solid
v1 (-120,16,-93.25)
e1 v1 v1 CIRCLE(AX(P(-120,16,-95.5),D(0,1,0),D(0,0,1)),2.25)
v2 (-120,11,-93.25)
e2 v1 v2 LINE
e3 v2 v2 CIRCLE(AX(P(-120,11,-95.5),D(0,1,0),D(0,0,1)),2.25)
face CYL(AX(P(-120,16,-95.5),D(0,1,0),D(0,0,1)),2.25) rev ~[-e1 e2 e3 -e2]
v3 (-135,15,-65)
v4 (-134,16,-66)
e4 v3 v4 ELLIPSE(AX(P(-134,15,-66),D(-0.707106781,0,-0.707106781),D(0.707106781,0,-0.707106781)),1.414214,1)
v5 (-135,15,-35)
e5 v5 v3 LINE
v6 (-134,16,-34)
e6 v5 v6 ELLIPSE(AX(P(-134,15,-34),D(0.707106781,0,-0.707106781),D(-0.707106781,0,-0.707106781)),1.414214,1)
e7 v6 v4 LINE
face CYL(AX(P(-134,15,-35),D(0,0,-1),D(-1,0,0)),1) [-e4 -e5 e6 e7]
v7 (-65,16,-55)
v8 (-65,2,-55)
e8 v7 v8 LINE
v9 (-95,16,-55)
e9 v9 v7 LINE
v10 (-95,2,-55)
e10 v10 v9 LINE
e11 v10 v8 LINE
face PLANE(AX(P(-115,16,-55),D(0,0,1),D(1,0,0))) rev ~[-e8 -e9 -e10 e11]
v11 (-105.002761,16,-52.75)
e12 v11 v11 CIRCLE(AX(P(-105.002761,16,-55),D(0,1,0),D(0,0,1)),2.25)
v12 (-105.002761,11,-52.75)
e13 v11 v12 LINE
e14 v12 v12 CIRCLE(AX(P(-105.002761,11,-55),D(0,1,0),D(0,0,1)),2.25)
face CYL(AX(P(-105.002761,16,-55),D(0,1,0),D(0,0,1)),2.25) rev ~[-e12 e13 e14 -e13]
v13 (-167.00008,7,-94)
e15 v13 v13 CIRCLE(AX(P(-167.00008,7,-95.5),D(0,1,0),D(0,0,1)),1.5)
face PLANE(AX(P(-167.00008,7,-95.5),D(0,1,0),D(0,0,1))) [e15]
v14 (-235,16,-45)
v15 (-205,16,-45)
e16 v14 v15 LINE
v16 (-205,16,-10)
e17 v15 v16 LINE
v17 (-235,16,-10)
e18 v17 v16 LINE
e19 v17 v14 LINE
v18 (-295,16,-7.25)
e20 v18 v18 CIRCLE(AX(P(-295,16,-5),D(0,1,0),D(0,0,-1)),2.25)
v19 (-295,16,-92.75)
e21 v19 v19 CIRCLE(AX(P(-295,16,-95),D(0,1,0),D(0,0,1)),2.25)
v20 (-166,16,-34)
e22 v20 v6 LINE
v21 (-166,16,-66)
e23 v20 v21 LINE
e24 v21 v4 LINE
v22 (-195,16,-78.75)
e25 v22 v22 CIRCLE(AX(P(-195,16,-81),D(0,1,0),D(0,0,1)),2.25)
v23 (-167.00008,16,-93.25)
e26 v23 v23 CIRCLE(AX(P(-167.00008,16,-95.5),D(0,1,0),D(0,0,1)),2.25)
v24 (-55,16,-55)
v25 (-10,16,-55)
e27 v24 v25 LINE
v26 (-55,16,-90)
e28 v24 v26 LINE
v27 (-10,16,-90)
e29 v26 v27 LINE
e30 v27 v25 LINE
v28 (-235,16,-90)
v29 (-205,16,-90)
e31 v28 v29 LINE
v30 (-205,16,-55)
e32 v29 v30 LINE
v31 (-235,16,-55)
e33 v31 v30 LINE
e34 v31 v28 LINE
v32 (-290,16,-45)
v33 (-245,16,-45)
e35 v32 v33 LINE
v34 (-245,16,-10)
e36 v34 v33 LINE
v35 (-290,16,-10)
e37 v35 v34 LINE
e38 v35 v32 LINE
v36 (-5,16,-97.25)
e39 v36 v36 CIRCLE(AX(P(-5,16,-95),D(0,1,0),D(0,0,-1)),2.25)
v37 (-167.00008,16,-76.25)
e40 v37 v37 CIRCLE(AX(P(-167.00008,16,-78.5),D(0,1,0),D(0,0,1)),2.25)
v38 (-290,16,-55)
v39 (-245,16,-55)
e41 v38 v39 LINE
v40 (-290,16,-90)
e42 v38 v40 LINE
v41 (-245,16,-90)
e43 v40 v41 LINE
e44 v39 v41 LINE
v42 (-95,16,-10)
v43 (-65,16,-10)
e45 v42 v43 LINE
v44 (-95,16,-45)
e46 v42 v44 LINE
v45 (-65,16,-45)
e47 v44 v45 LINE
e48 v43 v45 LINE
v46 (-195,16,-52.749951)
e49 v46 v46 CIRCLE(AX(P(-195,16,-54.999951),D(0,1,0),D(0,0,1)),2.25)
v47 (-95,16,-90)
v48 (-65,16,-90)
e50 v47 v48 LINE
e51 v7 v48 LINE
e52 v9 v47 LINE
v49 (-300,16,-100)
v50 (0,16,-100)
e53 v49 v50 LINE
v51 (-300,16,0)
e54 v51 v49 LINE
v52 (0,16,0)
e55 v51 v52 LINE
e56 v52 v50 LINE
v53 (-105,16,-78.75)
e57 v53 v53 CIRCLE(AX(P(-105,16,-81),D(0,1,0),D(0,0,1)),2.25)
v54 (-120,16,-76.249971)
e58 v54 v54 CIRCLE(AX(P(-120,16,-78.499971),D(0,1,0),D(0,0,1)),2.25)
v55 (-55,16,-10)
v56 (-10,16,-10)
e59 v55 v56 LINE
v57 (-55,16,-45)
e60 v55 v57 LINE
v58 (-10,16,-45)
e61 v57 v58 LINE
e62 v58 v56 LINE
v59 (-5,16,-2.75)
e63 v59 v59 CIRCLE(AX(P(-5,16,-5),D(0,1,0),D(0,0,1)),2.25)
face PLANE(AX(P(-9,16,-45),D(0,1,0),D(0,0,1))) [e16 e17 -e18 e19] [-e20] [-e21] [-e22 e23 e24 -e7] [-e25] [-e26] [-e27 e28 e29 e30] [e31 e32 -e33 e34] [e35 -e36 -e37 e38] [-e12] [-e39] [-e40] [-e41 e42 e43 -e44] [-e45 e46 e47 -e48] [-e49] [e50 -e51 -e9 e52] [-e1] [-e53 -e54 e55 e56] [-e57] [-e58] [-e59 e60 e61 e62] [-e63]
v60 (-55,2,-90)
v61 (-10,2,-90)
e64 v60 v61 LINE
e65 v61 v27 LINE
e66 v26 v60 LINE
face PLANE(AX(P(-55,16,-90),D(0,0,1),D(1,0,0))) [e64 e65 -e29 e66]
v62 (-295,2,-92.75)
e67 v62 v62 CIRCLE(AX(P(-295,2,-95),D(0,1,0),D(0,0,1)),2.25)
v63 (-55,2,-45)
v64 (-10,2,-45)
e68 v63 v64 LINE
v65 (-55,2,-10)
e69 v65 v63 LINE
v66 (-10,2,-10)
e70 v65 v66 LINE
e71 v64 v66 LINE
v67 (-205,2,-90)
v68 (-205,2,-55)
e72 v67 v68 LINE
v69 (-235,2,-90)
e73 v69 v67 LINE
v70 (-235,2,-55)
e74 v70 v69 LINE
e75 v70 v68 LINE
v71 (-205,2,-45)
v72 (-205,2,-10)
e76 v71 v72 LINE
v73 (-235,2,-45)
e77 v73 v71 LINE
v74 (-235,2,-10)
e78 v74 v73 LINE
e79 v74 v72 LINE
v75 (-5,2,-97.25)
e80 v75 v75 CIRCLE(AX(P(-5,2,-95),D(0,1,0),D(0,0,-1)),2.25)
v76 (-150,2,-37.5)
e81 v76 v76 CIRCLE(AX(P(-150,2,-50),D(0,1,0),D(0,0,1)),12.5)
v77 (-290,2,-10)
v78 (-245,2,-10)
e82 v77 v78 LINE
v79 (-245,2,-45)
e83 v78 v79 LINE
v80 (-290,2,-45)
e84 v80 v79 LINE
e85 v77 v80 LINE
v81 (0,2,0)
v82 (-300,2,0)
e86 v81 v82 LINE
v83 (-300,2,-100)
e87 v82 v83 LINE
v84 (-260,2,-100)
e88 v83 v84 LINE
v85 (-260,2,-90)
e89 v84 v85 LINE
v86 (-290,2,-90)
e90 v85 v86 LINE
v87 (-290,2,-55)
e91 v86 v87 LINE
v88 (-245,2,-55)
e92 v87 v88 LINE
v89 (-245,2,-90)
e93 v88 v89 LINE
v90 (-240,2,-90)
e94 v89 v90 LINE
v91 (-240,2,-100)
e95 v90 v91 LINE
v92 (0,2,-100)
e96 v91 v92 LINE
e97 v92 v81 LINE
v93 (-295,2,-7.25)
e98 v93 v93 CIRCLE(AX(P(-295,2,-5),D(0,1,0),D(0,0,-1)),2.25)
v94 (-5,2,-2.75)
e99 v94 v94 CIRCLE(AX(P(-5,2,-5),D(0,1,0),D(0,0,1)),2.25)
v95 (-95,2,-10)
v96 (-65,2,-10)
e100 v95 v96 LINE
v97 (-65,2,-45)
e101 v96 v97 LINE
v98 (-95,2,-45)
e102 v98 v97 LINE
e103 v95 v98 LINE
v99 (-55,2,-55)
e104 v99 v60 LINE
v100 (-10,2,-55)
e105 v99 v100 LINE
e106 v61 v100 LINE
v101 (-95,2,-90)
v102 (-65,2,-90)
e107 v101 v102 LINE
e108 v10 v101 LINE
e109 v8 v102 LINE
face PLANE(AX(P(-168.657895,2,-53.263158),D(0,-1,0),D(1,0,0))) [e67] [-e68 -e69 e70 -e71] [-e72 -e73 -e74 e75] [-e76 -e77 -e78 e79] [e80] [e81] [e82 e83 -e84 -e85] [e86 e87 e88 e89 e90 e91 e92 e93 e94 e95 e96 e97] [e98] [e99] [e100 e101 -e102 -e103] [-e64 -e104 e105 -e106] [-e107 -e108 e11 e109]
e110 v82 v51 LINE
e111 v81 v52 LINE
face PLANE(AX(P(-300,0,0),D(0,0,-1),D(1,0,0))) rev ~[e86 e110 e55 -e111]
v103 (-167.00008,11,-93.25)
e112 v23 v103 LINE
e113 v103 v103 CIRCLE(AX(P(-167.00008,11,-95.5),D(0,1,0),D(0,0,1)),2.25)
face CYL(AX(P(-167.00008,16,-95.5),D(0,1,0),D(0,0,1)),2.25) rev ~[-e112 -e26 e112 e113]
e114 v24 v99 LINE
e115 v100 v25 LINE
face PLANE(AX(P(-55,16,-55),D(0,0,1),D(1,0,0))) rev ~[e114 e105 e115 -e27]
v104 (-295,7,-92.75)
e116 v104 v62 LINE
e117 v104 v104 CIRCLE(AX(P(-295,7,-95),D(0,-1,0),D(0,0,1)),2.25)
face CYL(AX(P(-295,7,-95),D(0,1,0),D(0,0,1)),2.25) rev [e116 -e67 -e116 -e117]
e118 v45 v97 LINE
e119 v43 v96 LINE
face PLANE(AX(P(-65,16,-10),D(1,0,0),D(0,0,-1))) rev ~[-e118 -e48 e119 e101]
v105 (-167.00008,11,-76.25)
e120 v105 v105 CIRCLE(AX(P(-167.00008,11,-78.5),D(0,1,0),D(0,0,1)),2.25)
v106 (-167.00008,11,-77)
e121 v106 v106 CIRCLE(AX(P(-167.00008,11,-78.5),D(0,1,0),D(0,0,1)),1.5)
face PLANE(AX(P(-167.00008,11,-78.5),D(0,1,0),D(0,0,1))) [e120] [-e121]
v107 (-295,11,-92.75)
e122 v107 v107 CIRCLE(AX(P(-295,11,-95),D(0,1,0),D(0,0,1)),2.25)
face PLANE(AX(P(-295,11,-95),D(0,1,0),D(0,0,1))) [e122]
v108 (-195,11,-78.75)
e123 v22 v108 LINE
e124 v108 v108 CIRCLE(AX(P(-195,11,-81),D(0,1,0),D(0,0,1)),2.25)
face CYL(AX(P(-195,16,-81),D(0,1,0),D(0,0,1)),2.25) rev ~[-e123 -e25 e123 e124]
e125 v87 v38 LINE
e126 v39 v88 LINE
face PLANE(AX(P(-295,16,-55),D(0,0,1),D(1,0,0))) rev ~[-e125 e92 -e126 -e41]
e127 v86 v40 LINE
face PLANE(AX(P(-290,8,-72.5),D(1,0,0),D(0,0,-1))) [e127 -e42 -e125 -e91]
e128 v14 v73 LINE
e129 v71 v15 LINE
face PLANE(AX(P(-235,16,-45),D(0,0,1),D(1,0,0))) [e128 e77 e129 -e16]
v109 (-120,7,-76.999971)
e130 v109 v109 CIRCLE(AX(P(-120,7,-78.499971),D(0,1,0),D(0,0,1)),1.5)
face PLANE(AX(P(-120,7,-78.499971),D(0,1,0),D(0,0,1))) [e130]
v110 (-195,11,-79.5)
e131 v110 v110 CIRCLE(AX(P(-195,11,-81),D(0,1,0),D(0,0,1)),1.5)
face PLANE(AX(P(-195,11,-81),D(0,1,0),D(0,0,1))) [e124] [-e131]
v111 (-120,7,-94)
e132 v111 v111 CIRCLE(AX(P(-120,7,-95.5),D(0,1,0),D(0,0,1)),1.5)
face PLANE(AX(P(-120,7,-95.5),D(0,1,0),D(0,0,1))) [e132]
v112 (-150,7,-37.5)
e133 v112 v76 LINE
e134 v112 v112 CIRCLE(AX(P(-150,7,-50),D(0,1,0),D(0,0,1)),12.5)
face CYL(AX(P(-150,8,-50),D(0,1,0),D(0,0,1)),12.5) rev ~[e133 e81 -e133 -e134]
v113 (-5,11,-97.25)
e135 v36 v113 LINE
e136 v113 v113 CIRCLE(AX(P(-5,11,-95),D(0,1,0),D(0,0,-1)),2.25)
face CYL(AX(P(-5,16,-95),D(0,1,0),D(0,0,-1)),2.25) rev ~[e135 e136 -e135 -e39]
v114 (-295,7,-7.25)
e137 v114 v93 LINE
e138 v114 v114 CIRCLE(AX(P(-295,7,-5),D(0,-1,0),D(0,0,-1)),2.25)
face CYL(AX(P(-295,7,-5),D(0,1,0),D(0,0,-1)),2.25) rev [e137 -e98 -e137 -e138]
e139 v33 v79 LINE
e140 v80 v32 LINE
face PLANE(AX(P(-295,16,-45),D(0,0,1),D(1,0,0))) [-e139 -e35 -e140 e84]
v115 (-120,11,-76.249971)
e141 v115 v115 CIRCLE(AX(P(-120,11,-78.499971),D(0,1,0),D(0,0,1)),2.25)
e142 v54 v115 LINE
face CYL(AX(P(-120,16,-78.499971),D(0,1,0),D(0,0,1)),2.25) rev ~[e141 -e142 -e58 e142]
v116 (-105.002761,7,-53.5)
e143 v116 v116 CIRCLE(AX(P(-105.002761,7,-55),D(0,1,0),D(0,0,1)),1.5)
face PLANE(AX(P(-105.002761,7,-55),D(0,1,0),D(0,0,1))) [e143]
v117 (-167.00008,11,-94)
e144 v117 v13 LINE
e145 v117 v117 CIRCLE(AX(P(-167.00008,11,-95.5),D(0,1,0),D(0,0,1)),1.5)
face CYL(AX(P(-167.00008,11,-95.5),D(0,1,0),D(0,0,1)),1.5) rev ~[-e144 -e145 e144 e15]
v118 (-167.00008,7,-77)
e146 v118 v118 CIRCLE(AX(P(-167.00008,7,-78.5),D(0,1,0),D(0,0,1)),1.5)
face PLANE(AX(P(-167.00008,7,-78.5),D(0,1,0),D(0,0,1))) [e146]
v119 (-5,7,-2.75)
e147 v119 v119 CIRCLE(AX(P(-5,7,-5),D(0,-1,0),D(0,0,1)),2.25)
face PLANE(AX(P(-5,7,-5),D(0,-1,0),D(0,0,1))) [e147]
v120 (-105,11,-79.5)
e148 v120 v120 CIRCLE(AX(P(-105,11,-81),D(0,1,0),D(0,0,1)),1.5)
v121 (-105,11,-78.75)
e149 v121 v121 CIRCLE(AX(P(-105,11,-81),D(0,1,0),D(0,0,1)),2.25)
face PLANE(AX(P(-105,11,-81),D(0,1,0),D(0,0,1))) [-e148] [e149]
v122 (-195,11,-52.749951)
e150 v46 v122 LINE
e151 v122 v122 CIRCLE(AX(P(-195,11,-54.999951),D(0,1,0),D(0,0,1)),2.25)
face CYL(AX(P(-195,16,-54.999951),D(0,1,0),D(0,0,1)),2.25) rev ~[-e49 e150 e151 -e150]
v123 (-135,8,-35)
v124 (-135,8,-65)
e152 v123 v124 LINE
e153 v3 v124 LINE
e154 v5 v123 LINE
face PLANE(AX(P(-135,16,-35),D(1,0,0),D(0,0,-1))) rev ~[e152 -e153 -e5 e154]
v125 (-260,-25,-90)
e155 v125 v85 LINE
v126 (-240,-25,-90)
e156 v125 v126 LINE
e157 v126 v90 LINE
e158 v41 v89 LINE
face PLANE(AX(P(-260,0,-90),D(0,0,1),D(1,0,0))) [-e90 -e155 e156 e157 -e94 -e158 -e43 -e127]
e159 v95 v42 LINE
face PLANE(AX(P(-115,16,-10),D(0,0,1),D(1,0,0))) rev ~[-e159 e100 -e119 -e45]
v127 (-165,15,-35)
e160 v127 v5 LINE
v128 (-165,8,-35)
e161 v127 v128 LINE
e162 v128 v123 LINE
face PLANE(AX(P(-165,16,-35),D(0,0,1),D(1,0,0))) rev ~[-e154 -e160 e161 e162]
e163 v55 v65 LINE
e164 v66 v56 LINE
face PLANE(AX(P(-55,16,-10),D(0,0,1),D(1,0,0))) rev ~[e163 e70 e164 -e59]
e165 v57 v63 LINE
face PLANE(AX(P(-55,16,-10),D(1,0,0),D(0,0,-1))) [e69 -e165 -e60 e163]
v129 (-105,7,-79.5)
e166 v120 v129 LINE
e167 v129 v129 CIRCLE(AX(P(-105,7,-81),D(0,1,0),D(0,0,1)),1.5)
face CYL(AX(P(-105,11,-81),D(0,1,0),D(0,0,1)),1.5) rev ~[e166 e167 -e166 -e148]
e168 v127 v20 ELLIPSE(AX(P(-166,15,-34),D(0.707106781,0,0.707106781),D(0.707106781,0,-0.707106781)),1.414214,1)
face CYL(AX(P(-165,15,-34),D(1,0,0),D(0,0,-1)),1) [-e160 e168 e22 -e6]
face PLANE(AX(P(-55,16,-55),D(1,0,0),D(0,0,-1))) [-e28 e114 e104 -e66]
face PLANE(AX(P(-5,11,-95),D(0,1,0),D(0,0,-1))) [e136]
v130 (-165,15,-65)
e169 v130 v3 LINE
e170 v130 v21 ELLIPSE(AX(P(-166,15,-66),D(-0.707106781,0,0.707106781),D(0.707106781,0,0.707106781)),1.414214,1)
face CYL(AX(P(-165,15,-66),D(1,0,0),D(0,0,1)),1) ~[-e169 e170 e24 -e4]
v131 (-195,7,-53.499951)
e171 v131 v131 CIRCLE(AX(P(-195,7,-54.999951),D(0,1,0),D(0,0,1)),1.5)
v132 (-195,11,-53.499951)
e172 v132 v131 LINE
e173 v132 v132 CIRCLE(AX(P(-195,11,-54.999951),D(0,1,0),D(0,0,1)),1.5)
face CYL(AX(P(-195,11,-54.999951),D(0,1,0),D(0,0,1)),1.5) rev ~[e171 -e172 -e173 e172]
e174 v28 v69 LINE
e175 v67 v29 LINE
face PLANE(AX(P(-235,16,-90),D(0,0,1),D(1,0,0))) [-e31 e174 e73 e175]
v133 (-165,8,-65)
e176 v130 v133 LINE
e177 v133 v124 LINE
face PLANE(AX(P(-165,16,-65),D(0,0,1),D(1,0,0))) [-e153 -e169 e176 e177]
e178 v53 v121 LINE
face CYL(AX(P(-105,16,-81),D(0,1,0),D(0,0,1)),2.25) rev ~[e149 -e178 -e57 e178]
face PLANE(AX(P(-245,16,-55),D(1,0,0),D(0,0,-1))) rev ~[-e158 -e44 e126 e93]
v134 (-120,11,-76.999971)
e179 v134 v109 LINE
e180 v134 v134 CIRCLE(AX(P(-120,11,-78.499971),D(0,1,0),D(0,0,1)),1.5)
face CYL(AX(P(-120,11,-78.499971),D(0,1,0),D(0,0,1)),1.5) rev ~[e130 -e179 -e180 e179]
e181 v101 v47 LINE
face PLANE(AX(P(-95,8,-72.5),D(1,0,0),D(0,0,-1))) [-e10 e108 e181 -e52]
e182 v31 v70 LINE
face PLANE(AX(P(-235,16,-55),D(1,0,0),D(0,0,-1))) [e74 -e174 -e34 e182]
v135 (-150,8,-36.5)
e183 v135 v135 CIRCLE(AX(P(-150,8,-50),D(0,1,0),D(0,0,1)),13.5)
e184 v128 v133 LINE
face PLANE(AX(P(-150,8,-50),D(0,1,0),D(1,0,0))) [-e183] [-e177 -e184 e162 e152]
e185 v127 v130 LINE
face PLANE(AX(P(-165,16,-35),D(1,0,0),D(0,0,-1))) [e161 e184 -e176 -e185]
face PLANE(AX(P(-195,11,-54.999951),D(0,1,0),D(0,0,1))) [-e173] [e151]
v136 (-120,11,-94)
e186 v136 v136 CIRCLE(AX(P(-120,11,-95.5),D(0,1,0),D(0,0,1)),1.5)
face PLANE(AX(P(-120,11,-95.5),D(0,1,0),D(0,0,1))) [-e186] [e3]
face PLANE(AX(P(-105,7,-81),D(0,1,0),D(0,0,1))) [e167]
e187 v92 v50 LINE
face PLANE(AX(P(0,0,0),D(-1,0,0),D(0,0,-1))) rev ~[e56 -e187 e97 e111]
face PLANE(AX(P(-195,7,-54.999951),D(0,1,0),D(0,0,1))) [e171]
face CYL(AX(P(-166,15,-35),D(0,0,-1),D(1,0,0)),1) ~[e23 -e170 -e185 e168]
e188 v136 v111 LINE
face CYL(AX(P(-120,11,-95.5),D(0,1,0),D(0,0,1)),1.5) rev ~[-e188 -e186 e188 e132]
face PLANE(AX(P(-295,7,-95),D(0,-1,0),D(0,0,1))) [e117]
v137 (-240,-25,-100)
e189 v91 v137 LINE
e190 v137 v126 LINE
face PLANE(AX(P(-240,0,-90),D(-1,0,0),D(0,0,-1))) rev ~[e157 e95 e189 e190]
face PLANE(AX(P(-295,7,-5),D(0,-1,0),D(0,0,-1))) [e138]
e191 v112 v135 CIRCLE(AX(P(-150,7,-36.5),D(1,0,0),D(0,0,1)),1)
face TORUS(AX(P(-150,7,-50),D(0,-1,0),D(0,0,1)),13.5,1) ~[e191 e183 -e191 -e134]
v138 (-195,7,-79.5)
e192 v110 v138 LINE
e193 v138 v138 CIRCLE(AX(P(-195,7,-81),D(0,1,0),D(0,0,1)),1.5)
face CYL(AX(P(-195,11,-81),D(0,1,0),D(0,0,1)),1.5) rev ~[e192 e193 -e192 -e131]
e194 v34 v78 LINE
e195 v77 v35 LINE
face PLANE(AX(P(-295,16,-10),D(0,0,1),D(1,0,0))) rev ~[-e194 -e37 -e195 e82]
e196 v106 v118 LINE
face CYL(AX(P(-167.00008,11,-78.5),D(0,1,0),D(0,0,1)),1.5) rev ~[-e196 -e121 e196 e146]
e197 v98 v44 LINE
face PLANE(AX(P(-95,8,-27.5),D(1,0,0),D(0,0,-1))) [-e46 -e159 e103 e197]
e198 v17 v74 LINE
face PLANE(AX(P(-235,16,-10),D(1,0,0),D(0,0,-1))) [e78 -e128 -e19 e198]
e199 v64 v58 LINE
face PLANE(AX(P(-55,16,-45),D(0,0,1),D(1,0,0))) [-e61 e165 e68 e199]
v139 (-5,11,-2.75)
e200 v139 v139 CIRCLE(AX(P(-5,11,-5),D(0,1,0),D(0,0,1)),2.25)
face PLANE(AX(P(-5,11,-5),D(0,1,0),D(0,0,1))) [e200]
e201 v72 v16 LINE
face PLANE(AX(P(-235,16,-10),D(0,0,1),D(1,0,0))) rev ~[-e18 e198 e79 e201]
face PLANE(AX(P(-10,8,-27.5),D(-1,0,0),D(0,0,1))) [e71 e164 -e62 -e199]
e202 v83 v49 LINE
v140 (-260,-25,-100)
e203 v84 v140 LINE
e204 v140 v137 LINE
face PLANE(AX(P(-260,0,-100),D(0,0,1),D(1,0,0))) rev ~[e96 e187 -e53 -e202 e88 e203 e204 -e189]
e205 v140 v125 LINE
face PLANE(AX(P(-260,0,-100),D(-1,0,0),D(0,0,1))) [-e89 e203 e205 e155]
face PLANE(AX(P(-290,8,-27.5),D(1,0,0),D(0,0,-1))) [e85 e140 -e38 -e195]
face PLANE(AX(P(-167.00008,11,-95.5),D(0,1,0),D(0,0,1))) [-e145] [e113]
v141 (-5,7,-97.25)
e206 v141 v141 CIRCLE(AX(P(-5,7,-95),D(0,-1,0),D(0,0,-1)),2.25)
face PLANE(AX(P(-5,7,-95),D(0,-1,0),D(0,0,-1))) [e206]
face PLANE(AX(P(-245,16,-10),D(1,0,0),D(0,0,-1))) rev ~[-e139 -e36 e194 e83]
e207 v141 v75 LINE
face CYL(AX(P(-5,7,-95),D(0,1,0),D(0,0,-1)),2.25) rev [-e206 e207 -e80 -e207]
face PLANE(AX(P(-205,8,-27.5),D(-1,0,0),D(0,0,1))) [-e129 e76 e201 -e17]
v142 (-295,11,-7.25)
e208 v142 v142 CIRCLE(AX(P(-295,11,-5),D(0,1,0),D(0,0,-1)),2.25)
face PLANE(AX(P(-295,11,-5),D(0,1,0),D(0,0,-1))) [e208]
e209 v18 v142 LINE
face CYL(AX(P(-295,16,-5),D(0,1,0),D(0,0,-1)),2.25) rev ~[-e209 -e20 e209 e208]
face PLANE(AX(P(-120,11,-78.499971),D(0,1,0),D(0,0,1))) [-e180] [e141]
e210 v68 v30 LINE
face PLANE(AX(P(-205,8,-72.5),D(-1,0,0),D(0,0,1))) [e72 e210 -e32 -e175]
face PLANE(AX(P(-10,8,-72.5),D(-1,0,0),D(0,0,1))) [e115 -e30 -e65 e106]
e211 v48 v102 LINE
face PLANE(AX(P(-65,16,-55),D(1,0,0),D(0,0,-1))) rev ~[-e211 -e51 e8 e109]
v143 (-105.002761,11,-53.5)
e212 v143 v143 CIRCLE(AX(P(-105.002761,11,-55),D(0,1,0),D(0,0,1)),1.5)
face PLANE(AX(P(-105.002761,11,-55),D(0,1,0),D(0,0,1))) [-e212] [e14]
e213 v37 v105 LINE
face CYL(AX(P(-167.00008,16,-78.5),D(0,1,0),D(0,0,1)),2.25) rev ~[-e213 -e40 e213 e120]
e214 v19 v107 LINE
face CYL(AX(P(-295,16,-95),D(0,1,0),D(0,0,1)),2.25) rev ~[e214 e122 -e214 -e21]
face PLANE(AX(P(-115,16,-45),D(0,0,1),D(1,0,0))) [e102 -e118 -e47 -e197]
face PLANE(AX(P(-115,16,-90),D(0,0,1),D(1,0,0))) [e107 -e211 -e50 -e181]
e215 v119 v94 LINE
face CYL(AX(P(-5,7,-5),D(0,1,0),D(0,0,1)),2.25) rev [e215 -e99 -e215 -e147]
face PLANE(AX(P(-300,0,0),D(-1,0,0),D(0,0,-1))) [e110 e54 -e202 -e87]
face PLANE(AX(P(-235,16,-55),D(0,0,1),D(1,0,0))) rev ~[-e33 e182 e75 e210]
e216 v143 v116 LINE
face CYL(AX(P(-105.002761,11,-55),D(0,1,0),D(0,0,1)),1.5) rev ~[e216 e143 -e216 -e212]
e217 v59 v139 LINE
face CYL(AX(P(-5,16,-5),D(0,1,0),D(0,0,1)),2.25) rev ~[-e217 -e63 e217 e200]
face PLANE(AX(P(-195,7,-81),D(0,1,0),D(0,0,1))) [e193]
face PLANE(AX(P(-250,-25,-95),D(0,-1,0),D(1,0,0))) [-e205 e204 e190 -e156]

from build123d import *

# Parameters (mm, degrees)
SKETCH_1_W           = 300
SKETCH_1_H           = 100
EXTRUDE_1_DEPTH      = 16
SKETCH_2_W           = 30
SKETCH_2_H           = 30
CUT_EXTRUDE_1_DEPTH  = 8
SKETCH_3_R           = 12.5
CUT_EXTRUDE_2_DEPTH  = 14
CUT_EXTRUDE_3_REACH  = 318.632
SKETCH_4_W           = 50
SKETCH_4_H           = 35
SKETCH_7_W           = 35
SKETCH_7_H           = 16
EXTRUDE_2_DEPTH      = 20
SKETCH_8_W           = 35
SKETCH_8_H           = 16
EXTRUDE_3_DEPTH      = 20
SKETCH_9_W           = 20
SKETCH_9_H           = 10
EXTRUDE_4_DEPTH      = 25
FILLET_1_R           = 1
FILLET_2_R           = 1
SKETCH_13_W          = 35
SKETCH_13_H          = 16
EXTRUDE_6_DEPTH      = 4
SKETCH_14_W          = 35
SKETCH_14_H          = 16
EXTRUDE_7_DEPTH      = 4
SKETCH_17_W          = 35
SKETCH_17_H          = 16
EXTRUDE_8_DEPTH      = 1
SKETCH_18_W          = 35
SKETCH_18_H          = 16
EXTRUDE_9_DEPTH      = 1
SKETCH_19_R          = 2.25
CUT_EXTRUDE_8_DEPTH  = 5
CUT_EXTRUDE_START    = -7
SKETCH_20_R          = 2.25
CUT_EXTRUDE_9_DEPTH  = 7
CUT_EXTRUDE_15_DEPTH = 2
SKETCH_28_R          = 2.25
CUT_EXTRUDE_18_DEPTH = 5
SKETCH_30_R          = 1.5
CUT_EXTRUDE_20_DEPTH = 4


with BuildPart() as part:
    # 草图1 → 凸台-拉伸1 (new body)
    with BuildSketch(Plane(origin=(0, 0, 0), x_dir=(1, 0, 0), z_dir=(0, 1, 0))):
        with Locations((-150, 50)):
            Rectangle(SKETCH_1_W, SKETCH_1_H)
    extrude(amount=EXTRUDE_1_DEPTH)

    # 草图2 → 切除-拉伸1 (cut)
    with BuildSketch(Plane(origin=(0, 16, 0), x_dir=(1, 0, 0), z_dir=(0, 1, 0))):
        with Locations((-150, 50)):
            Rectangle(SKETCH_2_W, SKETCH_2_H)
    extrude(amount=-CUT_EXTRUDE_1_DEPTH, mode=Mode.SUBTRACT)

    # 草图3 → 切除-拉伸2 (cut)
    with BuildSketch(Plane(origin=(0, 8, 0), x_dir=(1, 0, 0), z_dir=(0, 1, 0))):
        with Locations(Location((-150, 50, 0), (0, 0, 270))):
            Circle(SKETCH_3_R)
    extrude(amount=-CUT_EXTRUDE_2_DEPTH, mode=Mode.SUBTRACT)

    # 草图4 → 切除-拉伸3 (cut, up to next)
    with BuildSketch(Plane(origin=(0, 16, 0), x_dir=(1, 0, 0), z_dir=(0, 1, 0)), mode=Mode.PRIVATE) as cut_extrude_3_sk1:
        with Locations((-270, 72.5)):
            Rectangle(SKETCH_4_W, SKETCH_4_H)
    cut_extrude_3_tool1 = extrude(cut_extrude_3_sk1.sketch, amount=-CUT_EXTRUDE_3_REACH, mode=Mode.PRIVATE) & part.part
    # 草图4 → 切除-拉伸3 (cut, up to next)
    with BuildSketch(Plane(origin=(0, 16, 0), x_dir=(1, 0, 0), z_dir=(0, 1, 0)), mode=Mode.PRIVATE) as cut_extrude_3_sk2:
        with Locations((-270, 27.5)):
            Rectangle(SKETCH_4_W, SKETCH_4_H)
    cut_extrude_3_tool2 = extrude(cut_extrude_3_sk2.sketch, amount=-CUT_EXTRUDE_3_REACH, mode=Mode.PRIVATE) & part.part
    # 草图4 → 切除-拉伸3 (cut, up to next)
    with BuildSketch(Plane(origin=(0, 16, 0), x_dir=(1, 0, 0), z_dir=(0, 1, 0)), mode=Mode.PRIVATE) as cut_extrude_3_sk3:
        with Locations((-210, 72.5)):
            Rectangle(SKETCH_4_W, SKETCH_4_H)
    cut_extrude_3_tool3 = extrude(cut_extrude_3_sk3.sketch, amount=-CUT_EXTRUDE_3_REACH, mode=Mode.PRIVATE) & part.part
    # 草图4 → 切除-拉伸3 (cut, up to next)
    with BuildSketch(Plane(origin=(0, 16, 0), x_dir=(1, 0, 0), z_dir=(0, 1, 0)), mode=Mode.PRIVATE) as cut_extrude_3_sk4:
        with Locations((-210, 27.5)):
            Rectangle(SKETCH_4_W, SKETCH_4_H)
    cut_extrude_3_tool4 = extrude(cut_extrude_3_sk4.sketch, amount=-CUT_EXTRUDE_3_REACH, mode=Mode.PRIVATE) & part.part
    # 草图4 → 切除-拉伸3 (cut, up to next)
    with BuildSketch(Plane(origin=(0, 16, 0), x_dir=(1, 0, 0), z_dir=(0, 1, 0)), mode=Mode.PRIVATE) as cut_extrude_3_sk5:
        with Locations((-30, 27.5)):
            Rectangle(SKETCH_4_W, SKETCH_4_H)
    cut_extrude_3_tool5 = extrude(cut_extrude_3_sk5.sketch, amount=-CUT_EXTRUDE_3_REACH, mode=Mode.PRIVATE) & part.part
    # 草图4 → 切除-拉伸3 (cut, up to next)
    with BuildSketch(Plane(origin=(0, 16, 0), x_dir=(1, 0, 0), z_dir=(0, 1, 0)), mode=Mode.PRIVATE) as cut_extrude_3_sk6:
        with Locations((-90, 27.5)):
            Rectangle(SKETCH_4_W, SKETCH_4_H)
    cut_extrude_3_tool6 = extrude(cut_extrude_3_sk6.sketch, amount=-CUT_EXTRUDE_3_REACH, mode=Mode.PRIVATE) & part.part
    # 草图4 → 切除-拉伸3 (cut, up to next)
    with BuildSketch(Plane(origin=(0, 16, 0), x_dir=(1, 0, 0), z_dir=(0, 1, 0)), mode=Mode.PRIVATE) as cut_extrude_3_sk7:
        with Locations((-90, 72.5)):
            Rectangle(SKETCH_4_W, SKETCH_4_H)
    cut_extrude_3_tool7 = extrude(cut_extrude_3_sk7.sketch, amount=-CUT_EXTRUDE_3_REACH, mode=Mode.PRIVATE) & part.part
    # 草图4 → 切除-拉伸3 (cut, up to next)
    with BuildSketch(Plane(origin=(0, 16, 0), x_dir=(1, 0, 0), z_dir=(0, 1, 0)), mode=Mode.PRIVATE) as cut_extrude_3_sk8:
        with Locations((-30, 72.5)):
            Rectangle(SKETCH_4_W, SKETCH_4_H)
    cut_extrude_3_tool8 = extrude(cut_extrude_3_sk8.sketch, amount=-CUT_EXTRUDE_3_REACH, mode=Mode.PRIVATE) & part.part
    add(cut_extrude_3_tool1.solids().sort_by_distance((-270, 16, -72.5))[0], mode=Mode.SUBTRACT)
    add(cut_extrude_3_tool2.solids().sort_by_distance((-270, 16, -27.5))[0], mode=Mode.SUBTRACT)
    add(cut_extrude_3_tool3.solids().sort_by_distance((-210, 16, -72.5))[0], mode=Mode.SUBTRACT)
    add(cut_extrude_3_tool4.solids().sort_by_distance((-210, 16, -27.5))[0], mode=Mode.SUBTRACT)
    add(cut_extrude_3_tool5.solids().sort_by_distance((-30, 16, -27.5))[0], mode=Mode.SUBTRACT)
    add(cut_extrude_3_tool6.solids().sort_by_distance((-90, 16, -27.5))[0], mode=Mode.SUBTRACT)
    add(cut_extrude_3_tool7.solids().sort_by_distance((-90, 16, -72.5))[0], mode=Mode.SUBTRACT)
    add(cut_extrude_3_tool8.solids().sort_by_distance((-30, 16, -72.5))[0], mode=Mode.SUBTRACT)

    # 草图7 → 凸台-拉伸2 (add)
    with BuildSketch(Plane.ZY.offset(185)):
        with Locations((-27.5, 8)):
            Rectangle(SKETCH_7_W, SKETCH_7_H)
        with Locations((-72.5, 8)):
            Rectangle(SKETCH_7_W, SKETCH_7_H)
    extrude(amount=EXTRUDE_2_DEPTH)

    # 草图8 → 凸台-拉伸3 (add)
    with BuildSketch(Plane(origin=(-115, 0, 0), x_dir=(0, 0, -1), z_dir=(1, 0, 0))):
        with Locations((27.5, 8)):
            Rectangle(SKETCH_8_W, SKETCH_8_H)
        with Locations((72.5, 8)):
            Rectangle(SKETCH_8_W, SKETCH_8_H)
    extrude(amount=EXTRUDE_3_DEPTH)

    # 草图9 → 凸台-拉伸4 (add)
    with BuildSketch(Plane.XZ):
        with Locations((-250, -95)):
            Rectangle(SKETCH_9_W, SKETCH_9_H)
    extrude(amount=EXTRUDE_4_DEPTH)

    # 圆角1
    fillet_1_edges = [part.edges().sort_by_distance(p)[0] for p in [
        (-150, 8, -62.5),
    ]]
    fillet(fillet_1_edges, radius=FILLET_1_R)

    # 圆角2
    fillet_2_edges = [part.edges().sort_by_distance(p)[0] for p in [
        (-135, 16, -50),
        (-150, 16, -65),
        (-165, 16, -50),
        (-150, 16, -35),
    ]]
    fillet(fillet_2_edges, radius=FILLET_2_R)

    # 草图13 → 凸台-拉伸6 (add)
    with BuildSketch(Plane.ZY.offset(5)):
        with Locations((-72.5, 8)):
            Rectangle(SKETCH_13_W, SKETCH_13_H)
        with Locations((-27.5, 8)):
            Rectangle(SKETCH_13_W, SKETCH_13_H)
    extrude(amount=EXTRUDE_6_DEPTH)

    # 草图14 → 凸台-拉伸7 (add)
    with BuildSketch(Plane(origin=(-295, 0, 0), x_dir=(0, 0, -1), z_dir=(1, 0, 0))):
        with Locations((72.5, 8)):
            Rectangle(SKETCH_14_W, SKETCH_14_H)
        with Locations((27.5, 8)):
            Rectangle(SKETCH_14_W, SKETCH_14_H)
    extrude(amount=EXTRUDE_7_DEPTH)

    # 草图17 → 凸台-拉伸8 (add)
    with BuildSketch(Plane(origin=(-291, 0, 0), x_dir=(0, 0, -1), z_dir=(1, 0, 0))):
        with Locations((27.5, 8)):
            Rectangle(SKETCH_17_W, SKETCH_17_H)
        with Locations((72.5, 8)):
            Rectangle(SKETCH_17_W, SKETCH_17_H)
    extrude(amount=EXTRUDE_8_DEPTH)

    # 草图18 → 凸台-拉伸9 (add)
    with BuildSketch(Plane.ZY.offset(9)):
        with Locations((-27.5, 8)):
            Rectangle(SKETCH_18_W, SKETCH_18_H)
        with Locations((-72.5, 8)):
            Rectangle(SKETCH_18_W, SKETCH_18_H)
    extrude(amount=EXTRUDE_9_DEPTH)

    # 草图19 → 切除-拉伸8 (cut)
    with BuildSketch(Plane(origin=(0, 16, 0), x_dir=(1, 0, 0), z_dir=(0, 1, 0))):
        with Locations(Location((-295, 95, 0), (0, 0, 270))):
            Circle(SKETCH_19_R)
        with Locations(Location((-295, 5, 0), (0, 0, 90))):
            Circle(SKETCH_19_R)
        with Locations(Location((-5, 5, 0), (0, 0, 270))):
            Circle(SKETCH_19_R)
        with Locations(Location((-5, 95, 0), (0, 0, 90))):
            Circle(SKETCH_19_R)
    extrude(amount=-CUT_EXTRUDE_8_DEPTH, mode=Mode.SUBTRACT)

    # 草图20 → 切除-拉伸9 (cut)
    with BuildSketch(Plane.XZ.offset(CUT_EXTRUDE_START)):
        with Locations(Location((-295, -95, 0), (0, 0, 90))):
            Circle(SKETCH_20_R)
        with Locations(Location((-295, -5, 0), (0, 0, 270))):
            Circle(SKETCH_20_R)
        with Locations(Location((-5, -95, 0), (0, 0, 270))):
            Circle(SKETCH_20_R)
        with Locations(Location((-5, -5, 0), (0, 0, 90))):
            Circle(SKETCH_20_R)
    extrude(amount=CUT_EXTRUDE_9_DEPTH, mode=Mode.SUBTRACT)

    # 草图26 → 切除-拉伸15 (cut)
    with BuildSketch(Plane.XZ):
        Polygon((-260, -90), (-290, -90), (-290, -55), (-245, -55), (-245, -90), (-240, -90), (-240, -100), (0, -100), (0, 0), (-300, 0), (-300, -100), (-260, -100), align=None)
    extrude(amount=-CUT_EXTRUDE_15_DEPTH, mode=Mode.SUBTRACT)

    # 草图28 → 切除-拉伸18 (cut)
    with BuildSketch(Plane(origin=(0, 16, 0), x_dir=(1, 0, 0), z_dir=(0, 1, 0))):
        with Locations(Location((-105.002761288, 55.000000147, 0), (0, 0, 270))):
            Circle(SKETCH_28_R)
        with Locations(Location((-105, 81, 0), (0, 0, 270))):
            Circle(SKETCH_28_R)
        with Locations(Location((-120, 78.499971194, 0), (0, 0, 270))):
            Circle(SKETCH_28_R)
        with Locations(Location((-120, 95.5, 0), (0, 0, 270))):
            Circle(SKETCH_28_R)
        with Locations(Location((-167.000079641, 78.5, 0), (0, 0, 270))):
            Circle(SKETCH_28_R)
        with Locations(Location((-167.000079641, 95.5, 0), (0, 0, 270))):
            Circle(SKETCH_28_R)
        with Locations(Location((-195, 54.99995086, 0), (0, 0, 270))):
            Circle(SKETCH_28_R)
        with Locations(Location((-195, 81, 0), (0, 0, 270))):
            Circle(SKETCH_28_R)
    extrude(amount=-CUT_EXTRUDE_18_DEPTH, mode=Mode.SUBTRACT)

    # 草图30 → 切除-拉伸20 (cut)
    with BuildSketch(Plane(origin=(0, 11, 0), x_dir=(1, 0, 0), z_dir=(0, 1, 0))):
        with Locations(Location((-195, 81, 0), (0, 0, 270))):
            Circle(SKETCH_30_R)
        with Locations(Location((-195, 54.99995086, 0), (0, 0, 270))):
            Circle(SKETCH_30_R)
        with Locations(Location((-167.000079641, 95.5, 0), (0, 0, 270))):
            Circle(SKETCH_30_R)
        with Locations(Location((-167.000079641, 78.5, 0), (0, 0, 270))):
            Circle(SKETCH_30_R)
        with Locations(Location((-120, 95.5, 0), (0, 0, 270))):
            Circle(SKETCH_30_R)
        with Locations(Location((-120, 78.499971194, 0), (0, 0, 270))):
            Circle(SKETCH_30_R)
        with Locations(Location((-105, 81, 0), (0, 0, 270))):
            Circle(SKETCH_30_R)
        with Locations(Location((-105.002761288, 55.000000147, 0), (0, 0, 270))):
            Circle(SKETCH_30_R)
    extrude(amount=-CUT_EXTRUDE_20_DEPTH, mode=Mode.SUBTRACT)


solid = part.part
